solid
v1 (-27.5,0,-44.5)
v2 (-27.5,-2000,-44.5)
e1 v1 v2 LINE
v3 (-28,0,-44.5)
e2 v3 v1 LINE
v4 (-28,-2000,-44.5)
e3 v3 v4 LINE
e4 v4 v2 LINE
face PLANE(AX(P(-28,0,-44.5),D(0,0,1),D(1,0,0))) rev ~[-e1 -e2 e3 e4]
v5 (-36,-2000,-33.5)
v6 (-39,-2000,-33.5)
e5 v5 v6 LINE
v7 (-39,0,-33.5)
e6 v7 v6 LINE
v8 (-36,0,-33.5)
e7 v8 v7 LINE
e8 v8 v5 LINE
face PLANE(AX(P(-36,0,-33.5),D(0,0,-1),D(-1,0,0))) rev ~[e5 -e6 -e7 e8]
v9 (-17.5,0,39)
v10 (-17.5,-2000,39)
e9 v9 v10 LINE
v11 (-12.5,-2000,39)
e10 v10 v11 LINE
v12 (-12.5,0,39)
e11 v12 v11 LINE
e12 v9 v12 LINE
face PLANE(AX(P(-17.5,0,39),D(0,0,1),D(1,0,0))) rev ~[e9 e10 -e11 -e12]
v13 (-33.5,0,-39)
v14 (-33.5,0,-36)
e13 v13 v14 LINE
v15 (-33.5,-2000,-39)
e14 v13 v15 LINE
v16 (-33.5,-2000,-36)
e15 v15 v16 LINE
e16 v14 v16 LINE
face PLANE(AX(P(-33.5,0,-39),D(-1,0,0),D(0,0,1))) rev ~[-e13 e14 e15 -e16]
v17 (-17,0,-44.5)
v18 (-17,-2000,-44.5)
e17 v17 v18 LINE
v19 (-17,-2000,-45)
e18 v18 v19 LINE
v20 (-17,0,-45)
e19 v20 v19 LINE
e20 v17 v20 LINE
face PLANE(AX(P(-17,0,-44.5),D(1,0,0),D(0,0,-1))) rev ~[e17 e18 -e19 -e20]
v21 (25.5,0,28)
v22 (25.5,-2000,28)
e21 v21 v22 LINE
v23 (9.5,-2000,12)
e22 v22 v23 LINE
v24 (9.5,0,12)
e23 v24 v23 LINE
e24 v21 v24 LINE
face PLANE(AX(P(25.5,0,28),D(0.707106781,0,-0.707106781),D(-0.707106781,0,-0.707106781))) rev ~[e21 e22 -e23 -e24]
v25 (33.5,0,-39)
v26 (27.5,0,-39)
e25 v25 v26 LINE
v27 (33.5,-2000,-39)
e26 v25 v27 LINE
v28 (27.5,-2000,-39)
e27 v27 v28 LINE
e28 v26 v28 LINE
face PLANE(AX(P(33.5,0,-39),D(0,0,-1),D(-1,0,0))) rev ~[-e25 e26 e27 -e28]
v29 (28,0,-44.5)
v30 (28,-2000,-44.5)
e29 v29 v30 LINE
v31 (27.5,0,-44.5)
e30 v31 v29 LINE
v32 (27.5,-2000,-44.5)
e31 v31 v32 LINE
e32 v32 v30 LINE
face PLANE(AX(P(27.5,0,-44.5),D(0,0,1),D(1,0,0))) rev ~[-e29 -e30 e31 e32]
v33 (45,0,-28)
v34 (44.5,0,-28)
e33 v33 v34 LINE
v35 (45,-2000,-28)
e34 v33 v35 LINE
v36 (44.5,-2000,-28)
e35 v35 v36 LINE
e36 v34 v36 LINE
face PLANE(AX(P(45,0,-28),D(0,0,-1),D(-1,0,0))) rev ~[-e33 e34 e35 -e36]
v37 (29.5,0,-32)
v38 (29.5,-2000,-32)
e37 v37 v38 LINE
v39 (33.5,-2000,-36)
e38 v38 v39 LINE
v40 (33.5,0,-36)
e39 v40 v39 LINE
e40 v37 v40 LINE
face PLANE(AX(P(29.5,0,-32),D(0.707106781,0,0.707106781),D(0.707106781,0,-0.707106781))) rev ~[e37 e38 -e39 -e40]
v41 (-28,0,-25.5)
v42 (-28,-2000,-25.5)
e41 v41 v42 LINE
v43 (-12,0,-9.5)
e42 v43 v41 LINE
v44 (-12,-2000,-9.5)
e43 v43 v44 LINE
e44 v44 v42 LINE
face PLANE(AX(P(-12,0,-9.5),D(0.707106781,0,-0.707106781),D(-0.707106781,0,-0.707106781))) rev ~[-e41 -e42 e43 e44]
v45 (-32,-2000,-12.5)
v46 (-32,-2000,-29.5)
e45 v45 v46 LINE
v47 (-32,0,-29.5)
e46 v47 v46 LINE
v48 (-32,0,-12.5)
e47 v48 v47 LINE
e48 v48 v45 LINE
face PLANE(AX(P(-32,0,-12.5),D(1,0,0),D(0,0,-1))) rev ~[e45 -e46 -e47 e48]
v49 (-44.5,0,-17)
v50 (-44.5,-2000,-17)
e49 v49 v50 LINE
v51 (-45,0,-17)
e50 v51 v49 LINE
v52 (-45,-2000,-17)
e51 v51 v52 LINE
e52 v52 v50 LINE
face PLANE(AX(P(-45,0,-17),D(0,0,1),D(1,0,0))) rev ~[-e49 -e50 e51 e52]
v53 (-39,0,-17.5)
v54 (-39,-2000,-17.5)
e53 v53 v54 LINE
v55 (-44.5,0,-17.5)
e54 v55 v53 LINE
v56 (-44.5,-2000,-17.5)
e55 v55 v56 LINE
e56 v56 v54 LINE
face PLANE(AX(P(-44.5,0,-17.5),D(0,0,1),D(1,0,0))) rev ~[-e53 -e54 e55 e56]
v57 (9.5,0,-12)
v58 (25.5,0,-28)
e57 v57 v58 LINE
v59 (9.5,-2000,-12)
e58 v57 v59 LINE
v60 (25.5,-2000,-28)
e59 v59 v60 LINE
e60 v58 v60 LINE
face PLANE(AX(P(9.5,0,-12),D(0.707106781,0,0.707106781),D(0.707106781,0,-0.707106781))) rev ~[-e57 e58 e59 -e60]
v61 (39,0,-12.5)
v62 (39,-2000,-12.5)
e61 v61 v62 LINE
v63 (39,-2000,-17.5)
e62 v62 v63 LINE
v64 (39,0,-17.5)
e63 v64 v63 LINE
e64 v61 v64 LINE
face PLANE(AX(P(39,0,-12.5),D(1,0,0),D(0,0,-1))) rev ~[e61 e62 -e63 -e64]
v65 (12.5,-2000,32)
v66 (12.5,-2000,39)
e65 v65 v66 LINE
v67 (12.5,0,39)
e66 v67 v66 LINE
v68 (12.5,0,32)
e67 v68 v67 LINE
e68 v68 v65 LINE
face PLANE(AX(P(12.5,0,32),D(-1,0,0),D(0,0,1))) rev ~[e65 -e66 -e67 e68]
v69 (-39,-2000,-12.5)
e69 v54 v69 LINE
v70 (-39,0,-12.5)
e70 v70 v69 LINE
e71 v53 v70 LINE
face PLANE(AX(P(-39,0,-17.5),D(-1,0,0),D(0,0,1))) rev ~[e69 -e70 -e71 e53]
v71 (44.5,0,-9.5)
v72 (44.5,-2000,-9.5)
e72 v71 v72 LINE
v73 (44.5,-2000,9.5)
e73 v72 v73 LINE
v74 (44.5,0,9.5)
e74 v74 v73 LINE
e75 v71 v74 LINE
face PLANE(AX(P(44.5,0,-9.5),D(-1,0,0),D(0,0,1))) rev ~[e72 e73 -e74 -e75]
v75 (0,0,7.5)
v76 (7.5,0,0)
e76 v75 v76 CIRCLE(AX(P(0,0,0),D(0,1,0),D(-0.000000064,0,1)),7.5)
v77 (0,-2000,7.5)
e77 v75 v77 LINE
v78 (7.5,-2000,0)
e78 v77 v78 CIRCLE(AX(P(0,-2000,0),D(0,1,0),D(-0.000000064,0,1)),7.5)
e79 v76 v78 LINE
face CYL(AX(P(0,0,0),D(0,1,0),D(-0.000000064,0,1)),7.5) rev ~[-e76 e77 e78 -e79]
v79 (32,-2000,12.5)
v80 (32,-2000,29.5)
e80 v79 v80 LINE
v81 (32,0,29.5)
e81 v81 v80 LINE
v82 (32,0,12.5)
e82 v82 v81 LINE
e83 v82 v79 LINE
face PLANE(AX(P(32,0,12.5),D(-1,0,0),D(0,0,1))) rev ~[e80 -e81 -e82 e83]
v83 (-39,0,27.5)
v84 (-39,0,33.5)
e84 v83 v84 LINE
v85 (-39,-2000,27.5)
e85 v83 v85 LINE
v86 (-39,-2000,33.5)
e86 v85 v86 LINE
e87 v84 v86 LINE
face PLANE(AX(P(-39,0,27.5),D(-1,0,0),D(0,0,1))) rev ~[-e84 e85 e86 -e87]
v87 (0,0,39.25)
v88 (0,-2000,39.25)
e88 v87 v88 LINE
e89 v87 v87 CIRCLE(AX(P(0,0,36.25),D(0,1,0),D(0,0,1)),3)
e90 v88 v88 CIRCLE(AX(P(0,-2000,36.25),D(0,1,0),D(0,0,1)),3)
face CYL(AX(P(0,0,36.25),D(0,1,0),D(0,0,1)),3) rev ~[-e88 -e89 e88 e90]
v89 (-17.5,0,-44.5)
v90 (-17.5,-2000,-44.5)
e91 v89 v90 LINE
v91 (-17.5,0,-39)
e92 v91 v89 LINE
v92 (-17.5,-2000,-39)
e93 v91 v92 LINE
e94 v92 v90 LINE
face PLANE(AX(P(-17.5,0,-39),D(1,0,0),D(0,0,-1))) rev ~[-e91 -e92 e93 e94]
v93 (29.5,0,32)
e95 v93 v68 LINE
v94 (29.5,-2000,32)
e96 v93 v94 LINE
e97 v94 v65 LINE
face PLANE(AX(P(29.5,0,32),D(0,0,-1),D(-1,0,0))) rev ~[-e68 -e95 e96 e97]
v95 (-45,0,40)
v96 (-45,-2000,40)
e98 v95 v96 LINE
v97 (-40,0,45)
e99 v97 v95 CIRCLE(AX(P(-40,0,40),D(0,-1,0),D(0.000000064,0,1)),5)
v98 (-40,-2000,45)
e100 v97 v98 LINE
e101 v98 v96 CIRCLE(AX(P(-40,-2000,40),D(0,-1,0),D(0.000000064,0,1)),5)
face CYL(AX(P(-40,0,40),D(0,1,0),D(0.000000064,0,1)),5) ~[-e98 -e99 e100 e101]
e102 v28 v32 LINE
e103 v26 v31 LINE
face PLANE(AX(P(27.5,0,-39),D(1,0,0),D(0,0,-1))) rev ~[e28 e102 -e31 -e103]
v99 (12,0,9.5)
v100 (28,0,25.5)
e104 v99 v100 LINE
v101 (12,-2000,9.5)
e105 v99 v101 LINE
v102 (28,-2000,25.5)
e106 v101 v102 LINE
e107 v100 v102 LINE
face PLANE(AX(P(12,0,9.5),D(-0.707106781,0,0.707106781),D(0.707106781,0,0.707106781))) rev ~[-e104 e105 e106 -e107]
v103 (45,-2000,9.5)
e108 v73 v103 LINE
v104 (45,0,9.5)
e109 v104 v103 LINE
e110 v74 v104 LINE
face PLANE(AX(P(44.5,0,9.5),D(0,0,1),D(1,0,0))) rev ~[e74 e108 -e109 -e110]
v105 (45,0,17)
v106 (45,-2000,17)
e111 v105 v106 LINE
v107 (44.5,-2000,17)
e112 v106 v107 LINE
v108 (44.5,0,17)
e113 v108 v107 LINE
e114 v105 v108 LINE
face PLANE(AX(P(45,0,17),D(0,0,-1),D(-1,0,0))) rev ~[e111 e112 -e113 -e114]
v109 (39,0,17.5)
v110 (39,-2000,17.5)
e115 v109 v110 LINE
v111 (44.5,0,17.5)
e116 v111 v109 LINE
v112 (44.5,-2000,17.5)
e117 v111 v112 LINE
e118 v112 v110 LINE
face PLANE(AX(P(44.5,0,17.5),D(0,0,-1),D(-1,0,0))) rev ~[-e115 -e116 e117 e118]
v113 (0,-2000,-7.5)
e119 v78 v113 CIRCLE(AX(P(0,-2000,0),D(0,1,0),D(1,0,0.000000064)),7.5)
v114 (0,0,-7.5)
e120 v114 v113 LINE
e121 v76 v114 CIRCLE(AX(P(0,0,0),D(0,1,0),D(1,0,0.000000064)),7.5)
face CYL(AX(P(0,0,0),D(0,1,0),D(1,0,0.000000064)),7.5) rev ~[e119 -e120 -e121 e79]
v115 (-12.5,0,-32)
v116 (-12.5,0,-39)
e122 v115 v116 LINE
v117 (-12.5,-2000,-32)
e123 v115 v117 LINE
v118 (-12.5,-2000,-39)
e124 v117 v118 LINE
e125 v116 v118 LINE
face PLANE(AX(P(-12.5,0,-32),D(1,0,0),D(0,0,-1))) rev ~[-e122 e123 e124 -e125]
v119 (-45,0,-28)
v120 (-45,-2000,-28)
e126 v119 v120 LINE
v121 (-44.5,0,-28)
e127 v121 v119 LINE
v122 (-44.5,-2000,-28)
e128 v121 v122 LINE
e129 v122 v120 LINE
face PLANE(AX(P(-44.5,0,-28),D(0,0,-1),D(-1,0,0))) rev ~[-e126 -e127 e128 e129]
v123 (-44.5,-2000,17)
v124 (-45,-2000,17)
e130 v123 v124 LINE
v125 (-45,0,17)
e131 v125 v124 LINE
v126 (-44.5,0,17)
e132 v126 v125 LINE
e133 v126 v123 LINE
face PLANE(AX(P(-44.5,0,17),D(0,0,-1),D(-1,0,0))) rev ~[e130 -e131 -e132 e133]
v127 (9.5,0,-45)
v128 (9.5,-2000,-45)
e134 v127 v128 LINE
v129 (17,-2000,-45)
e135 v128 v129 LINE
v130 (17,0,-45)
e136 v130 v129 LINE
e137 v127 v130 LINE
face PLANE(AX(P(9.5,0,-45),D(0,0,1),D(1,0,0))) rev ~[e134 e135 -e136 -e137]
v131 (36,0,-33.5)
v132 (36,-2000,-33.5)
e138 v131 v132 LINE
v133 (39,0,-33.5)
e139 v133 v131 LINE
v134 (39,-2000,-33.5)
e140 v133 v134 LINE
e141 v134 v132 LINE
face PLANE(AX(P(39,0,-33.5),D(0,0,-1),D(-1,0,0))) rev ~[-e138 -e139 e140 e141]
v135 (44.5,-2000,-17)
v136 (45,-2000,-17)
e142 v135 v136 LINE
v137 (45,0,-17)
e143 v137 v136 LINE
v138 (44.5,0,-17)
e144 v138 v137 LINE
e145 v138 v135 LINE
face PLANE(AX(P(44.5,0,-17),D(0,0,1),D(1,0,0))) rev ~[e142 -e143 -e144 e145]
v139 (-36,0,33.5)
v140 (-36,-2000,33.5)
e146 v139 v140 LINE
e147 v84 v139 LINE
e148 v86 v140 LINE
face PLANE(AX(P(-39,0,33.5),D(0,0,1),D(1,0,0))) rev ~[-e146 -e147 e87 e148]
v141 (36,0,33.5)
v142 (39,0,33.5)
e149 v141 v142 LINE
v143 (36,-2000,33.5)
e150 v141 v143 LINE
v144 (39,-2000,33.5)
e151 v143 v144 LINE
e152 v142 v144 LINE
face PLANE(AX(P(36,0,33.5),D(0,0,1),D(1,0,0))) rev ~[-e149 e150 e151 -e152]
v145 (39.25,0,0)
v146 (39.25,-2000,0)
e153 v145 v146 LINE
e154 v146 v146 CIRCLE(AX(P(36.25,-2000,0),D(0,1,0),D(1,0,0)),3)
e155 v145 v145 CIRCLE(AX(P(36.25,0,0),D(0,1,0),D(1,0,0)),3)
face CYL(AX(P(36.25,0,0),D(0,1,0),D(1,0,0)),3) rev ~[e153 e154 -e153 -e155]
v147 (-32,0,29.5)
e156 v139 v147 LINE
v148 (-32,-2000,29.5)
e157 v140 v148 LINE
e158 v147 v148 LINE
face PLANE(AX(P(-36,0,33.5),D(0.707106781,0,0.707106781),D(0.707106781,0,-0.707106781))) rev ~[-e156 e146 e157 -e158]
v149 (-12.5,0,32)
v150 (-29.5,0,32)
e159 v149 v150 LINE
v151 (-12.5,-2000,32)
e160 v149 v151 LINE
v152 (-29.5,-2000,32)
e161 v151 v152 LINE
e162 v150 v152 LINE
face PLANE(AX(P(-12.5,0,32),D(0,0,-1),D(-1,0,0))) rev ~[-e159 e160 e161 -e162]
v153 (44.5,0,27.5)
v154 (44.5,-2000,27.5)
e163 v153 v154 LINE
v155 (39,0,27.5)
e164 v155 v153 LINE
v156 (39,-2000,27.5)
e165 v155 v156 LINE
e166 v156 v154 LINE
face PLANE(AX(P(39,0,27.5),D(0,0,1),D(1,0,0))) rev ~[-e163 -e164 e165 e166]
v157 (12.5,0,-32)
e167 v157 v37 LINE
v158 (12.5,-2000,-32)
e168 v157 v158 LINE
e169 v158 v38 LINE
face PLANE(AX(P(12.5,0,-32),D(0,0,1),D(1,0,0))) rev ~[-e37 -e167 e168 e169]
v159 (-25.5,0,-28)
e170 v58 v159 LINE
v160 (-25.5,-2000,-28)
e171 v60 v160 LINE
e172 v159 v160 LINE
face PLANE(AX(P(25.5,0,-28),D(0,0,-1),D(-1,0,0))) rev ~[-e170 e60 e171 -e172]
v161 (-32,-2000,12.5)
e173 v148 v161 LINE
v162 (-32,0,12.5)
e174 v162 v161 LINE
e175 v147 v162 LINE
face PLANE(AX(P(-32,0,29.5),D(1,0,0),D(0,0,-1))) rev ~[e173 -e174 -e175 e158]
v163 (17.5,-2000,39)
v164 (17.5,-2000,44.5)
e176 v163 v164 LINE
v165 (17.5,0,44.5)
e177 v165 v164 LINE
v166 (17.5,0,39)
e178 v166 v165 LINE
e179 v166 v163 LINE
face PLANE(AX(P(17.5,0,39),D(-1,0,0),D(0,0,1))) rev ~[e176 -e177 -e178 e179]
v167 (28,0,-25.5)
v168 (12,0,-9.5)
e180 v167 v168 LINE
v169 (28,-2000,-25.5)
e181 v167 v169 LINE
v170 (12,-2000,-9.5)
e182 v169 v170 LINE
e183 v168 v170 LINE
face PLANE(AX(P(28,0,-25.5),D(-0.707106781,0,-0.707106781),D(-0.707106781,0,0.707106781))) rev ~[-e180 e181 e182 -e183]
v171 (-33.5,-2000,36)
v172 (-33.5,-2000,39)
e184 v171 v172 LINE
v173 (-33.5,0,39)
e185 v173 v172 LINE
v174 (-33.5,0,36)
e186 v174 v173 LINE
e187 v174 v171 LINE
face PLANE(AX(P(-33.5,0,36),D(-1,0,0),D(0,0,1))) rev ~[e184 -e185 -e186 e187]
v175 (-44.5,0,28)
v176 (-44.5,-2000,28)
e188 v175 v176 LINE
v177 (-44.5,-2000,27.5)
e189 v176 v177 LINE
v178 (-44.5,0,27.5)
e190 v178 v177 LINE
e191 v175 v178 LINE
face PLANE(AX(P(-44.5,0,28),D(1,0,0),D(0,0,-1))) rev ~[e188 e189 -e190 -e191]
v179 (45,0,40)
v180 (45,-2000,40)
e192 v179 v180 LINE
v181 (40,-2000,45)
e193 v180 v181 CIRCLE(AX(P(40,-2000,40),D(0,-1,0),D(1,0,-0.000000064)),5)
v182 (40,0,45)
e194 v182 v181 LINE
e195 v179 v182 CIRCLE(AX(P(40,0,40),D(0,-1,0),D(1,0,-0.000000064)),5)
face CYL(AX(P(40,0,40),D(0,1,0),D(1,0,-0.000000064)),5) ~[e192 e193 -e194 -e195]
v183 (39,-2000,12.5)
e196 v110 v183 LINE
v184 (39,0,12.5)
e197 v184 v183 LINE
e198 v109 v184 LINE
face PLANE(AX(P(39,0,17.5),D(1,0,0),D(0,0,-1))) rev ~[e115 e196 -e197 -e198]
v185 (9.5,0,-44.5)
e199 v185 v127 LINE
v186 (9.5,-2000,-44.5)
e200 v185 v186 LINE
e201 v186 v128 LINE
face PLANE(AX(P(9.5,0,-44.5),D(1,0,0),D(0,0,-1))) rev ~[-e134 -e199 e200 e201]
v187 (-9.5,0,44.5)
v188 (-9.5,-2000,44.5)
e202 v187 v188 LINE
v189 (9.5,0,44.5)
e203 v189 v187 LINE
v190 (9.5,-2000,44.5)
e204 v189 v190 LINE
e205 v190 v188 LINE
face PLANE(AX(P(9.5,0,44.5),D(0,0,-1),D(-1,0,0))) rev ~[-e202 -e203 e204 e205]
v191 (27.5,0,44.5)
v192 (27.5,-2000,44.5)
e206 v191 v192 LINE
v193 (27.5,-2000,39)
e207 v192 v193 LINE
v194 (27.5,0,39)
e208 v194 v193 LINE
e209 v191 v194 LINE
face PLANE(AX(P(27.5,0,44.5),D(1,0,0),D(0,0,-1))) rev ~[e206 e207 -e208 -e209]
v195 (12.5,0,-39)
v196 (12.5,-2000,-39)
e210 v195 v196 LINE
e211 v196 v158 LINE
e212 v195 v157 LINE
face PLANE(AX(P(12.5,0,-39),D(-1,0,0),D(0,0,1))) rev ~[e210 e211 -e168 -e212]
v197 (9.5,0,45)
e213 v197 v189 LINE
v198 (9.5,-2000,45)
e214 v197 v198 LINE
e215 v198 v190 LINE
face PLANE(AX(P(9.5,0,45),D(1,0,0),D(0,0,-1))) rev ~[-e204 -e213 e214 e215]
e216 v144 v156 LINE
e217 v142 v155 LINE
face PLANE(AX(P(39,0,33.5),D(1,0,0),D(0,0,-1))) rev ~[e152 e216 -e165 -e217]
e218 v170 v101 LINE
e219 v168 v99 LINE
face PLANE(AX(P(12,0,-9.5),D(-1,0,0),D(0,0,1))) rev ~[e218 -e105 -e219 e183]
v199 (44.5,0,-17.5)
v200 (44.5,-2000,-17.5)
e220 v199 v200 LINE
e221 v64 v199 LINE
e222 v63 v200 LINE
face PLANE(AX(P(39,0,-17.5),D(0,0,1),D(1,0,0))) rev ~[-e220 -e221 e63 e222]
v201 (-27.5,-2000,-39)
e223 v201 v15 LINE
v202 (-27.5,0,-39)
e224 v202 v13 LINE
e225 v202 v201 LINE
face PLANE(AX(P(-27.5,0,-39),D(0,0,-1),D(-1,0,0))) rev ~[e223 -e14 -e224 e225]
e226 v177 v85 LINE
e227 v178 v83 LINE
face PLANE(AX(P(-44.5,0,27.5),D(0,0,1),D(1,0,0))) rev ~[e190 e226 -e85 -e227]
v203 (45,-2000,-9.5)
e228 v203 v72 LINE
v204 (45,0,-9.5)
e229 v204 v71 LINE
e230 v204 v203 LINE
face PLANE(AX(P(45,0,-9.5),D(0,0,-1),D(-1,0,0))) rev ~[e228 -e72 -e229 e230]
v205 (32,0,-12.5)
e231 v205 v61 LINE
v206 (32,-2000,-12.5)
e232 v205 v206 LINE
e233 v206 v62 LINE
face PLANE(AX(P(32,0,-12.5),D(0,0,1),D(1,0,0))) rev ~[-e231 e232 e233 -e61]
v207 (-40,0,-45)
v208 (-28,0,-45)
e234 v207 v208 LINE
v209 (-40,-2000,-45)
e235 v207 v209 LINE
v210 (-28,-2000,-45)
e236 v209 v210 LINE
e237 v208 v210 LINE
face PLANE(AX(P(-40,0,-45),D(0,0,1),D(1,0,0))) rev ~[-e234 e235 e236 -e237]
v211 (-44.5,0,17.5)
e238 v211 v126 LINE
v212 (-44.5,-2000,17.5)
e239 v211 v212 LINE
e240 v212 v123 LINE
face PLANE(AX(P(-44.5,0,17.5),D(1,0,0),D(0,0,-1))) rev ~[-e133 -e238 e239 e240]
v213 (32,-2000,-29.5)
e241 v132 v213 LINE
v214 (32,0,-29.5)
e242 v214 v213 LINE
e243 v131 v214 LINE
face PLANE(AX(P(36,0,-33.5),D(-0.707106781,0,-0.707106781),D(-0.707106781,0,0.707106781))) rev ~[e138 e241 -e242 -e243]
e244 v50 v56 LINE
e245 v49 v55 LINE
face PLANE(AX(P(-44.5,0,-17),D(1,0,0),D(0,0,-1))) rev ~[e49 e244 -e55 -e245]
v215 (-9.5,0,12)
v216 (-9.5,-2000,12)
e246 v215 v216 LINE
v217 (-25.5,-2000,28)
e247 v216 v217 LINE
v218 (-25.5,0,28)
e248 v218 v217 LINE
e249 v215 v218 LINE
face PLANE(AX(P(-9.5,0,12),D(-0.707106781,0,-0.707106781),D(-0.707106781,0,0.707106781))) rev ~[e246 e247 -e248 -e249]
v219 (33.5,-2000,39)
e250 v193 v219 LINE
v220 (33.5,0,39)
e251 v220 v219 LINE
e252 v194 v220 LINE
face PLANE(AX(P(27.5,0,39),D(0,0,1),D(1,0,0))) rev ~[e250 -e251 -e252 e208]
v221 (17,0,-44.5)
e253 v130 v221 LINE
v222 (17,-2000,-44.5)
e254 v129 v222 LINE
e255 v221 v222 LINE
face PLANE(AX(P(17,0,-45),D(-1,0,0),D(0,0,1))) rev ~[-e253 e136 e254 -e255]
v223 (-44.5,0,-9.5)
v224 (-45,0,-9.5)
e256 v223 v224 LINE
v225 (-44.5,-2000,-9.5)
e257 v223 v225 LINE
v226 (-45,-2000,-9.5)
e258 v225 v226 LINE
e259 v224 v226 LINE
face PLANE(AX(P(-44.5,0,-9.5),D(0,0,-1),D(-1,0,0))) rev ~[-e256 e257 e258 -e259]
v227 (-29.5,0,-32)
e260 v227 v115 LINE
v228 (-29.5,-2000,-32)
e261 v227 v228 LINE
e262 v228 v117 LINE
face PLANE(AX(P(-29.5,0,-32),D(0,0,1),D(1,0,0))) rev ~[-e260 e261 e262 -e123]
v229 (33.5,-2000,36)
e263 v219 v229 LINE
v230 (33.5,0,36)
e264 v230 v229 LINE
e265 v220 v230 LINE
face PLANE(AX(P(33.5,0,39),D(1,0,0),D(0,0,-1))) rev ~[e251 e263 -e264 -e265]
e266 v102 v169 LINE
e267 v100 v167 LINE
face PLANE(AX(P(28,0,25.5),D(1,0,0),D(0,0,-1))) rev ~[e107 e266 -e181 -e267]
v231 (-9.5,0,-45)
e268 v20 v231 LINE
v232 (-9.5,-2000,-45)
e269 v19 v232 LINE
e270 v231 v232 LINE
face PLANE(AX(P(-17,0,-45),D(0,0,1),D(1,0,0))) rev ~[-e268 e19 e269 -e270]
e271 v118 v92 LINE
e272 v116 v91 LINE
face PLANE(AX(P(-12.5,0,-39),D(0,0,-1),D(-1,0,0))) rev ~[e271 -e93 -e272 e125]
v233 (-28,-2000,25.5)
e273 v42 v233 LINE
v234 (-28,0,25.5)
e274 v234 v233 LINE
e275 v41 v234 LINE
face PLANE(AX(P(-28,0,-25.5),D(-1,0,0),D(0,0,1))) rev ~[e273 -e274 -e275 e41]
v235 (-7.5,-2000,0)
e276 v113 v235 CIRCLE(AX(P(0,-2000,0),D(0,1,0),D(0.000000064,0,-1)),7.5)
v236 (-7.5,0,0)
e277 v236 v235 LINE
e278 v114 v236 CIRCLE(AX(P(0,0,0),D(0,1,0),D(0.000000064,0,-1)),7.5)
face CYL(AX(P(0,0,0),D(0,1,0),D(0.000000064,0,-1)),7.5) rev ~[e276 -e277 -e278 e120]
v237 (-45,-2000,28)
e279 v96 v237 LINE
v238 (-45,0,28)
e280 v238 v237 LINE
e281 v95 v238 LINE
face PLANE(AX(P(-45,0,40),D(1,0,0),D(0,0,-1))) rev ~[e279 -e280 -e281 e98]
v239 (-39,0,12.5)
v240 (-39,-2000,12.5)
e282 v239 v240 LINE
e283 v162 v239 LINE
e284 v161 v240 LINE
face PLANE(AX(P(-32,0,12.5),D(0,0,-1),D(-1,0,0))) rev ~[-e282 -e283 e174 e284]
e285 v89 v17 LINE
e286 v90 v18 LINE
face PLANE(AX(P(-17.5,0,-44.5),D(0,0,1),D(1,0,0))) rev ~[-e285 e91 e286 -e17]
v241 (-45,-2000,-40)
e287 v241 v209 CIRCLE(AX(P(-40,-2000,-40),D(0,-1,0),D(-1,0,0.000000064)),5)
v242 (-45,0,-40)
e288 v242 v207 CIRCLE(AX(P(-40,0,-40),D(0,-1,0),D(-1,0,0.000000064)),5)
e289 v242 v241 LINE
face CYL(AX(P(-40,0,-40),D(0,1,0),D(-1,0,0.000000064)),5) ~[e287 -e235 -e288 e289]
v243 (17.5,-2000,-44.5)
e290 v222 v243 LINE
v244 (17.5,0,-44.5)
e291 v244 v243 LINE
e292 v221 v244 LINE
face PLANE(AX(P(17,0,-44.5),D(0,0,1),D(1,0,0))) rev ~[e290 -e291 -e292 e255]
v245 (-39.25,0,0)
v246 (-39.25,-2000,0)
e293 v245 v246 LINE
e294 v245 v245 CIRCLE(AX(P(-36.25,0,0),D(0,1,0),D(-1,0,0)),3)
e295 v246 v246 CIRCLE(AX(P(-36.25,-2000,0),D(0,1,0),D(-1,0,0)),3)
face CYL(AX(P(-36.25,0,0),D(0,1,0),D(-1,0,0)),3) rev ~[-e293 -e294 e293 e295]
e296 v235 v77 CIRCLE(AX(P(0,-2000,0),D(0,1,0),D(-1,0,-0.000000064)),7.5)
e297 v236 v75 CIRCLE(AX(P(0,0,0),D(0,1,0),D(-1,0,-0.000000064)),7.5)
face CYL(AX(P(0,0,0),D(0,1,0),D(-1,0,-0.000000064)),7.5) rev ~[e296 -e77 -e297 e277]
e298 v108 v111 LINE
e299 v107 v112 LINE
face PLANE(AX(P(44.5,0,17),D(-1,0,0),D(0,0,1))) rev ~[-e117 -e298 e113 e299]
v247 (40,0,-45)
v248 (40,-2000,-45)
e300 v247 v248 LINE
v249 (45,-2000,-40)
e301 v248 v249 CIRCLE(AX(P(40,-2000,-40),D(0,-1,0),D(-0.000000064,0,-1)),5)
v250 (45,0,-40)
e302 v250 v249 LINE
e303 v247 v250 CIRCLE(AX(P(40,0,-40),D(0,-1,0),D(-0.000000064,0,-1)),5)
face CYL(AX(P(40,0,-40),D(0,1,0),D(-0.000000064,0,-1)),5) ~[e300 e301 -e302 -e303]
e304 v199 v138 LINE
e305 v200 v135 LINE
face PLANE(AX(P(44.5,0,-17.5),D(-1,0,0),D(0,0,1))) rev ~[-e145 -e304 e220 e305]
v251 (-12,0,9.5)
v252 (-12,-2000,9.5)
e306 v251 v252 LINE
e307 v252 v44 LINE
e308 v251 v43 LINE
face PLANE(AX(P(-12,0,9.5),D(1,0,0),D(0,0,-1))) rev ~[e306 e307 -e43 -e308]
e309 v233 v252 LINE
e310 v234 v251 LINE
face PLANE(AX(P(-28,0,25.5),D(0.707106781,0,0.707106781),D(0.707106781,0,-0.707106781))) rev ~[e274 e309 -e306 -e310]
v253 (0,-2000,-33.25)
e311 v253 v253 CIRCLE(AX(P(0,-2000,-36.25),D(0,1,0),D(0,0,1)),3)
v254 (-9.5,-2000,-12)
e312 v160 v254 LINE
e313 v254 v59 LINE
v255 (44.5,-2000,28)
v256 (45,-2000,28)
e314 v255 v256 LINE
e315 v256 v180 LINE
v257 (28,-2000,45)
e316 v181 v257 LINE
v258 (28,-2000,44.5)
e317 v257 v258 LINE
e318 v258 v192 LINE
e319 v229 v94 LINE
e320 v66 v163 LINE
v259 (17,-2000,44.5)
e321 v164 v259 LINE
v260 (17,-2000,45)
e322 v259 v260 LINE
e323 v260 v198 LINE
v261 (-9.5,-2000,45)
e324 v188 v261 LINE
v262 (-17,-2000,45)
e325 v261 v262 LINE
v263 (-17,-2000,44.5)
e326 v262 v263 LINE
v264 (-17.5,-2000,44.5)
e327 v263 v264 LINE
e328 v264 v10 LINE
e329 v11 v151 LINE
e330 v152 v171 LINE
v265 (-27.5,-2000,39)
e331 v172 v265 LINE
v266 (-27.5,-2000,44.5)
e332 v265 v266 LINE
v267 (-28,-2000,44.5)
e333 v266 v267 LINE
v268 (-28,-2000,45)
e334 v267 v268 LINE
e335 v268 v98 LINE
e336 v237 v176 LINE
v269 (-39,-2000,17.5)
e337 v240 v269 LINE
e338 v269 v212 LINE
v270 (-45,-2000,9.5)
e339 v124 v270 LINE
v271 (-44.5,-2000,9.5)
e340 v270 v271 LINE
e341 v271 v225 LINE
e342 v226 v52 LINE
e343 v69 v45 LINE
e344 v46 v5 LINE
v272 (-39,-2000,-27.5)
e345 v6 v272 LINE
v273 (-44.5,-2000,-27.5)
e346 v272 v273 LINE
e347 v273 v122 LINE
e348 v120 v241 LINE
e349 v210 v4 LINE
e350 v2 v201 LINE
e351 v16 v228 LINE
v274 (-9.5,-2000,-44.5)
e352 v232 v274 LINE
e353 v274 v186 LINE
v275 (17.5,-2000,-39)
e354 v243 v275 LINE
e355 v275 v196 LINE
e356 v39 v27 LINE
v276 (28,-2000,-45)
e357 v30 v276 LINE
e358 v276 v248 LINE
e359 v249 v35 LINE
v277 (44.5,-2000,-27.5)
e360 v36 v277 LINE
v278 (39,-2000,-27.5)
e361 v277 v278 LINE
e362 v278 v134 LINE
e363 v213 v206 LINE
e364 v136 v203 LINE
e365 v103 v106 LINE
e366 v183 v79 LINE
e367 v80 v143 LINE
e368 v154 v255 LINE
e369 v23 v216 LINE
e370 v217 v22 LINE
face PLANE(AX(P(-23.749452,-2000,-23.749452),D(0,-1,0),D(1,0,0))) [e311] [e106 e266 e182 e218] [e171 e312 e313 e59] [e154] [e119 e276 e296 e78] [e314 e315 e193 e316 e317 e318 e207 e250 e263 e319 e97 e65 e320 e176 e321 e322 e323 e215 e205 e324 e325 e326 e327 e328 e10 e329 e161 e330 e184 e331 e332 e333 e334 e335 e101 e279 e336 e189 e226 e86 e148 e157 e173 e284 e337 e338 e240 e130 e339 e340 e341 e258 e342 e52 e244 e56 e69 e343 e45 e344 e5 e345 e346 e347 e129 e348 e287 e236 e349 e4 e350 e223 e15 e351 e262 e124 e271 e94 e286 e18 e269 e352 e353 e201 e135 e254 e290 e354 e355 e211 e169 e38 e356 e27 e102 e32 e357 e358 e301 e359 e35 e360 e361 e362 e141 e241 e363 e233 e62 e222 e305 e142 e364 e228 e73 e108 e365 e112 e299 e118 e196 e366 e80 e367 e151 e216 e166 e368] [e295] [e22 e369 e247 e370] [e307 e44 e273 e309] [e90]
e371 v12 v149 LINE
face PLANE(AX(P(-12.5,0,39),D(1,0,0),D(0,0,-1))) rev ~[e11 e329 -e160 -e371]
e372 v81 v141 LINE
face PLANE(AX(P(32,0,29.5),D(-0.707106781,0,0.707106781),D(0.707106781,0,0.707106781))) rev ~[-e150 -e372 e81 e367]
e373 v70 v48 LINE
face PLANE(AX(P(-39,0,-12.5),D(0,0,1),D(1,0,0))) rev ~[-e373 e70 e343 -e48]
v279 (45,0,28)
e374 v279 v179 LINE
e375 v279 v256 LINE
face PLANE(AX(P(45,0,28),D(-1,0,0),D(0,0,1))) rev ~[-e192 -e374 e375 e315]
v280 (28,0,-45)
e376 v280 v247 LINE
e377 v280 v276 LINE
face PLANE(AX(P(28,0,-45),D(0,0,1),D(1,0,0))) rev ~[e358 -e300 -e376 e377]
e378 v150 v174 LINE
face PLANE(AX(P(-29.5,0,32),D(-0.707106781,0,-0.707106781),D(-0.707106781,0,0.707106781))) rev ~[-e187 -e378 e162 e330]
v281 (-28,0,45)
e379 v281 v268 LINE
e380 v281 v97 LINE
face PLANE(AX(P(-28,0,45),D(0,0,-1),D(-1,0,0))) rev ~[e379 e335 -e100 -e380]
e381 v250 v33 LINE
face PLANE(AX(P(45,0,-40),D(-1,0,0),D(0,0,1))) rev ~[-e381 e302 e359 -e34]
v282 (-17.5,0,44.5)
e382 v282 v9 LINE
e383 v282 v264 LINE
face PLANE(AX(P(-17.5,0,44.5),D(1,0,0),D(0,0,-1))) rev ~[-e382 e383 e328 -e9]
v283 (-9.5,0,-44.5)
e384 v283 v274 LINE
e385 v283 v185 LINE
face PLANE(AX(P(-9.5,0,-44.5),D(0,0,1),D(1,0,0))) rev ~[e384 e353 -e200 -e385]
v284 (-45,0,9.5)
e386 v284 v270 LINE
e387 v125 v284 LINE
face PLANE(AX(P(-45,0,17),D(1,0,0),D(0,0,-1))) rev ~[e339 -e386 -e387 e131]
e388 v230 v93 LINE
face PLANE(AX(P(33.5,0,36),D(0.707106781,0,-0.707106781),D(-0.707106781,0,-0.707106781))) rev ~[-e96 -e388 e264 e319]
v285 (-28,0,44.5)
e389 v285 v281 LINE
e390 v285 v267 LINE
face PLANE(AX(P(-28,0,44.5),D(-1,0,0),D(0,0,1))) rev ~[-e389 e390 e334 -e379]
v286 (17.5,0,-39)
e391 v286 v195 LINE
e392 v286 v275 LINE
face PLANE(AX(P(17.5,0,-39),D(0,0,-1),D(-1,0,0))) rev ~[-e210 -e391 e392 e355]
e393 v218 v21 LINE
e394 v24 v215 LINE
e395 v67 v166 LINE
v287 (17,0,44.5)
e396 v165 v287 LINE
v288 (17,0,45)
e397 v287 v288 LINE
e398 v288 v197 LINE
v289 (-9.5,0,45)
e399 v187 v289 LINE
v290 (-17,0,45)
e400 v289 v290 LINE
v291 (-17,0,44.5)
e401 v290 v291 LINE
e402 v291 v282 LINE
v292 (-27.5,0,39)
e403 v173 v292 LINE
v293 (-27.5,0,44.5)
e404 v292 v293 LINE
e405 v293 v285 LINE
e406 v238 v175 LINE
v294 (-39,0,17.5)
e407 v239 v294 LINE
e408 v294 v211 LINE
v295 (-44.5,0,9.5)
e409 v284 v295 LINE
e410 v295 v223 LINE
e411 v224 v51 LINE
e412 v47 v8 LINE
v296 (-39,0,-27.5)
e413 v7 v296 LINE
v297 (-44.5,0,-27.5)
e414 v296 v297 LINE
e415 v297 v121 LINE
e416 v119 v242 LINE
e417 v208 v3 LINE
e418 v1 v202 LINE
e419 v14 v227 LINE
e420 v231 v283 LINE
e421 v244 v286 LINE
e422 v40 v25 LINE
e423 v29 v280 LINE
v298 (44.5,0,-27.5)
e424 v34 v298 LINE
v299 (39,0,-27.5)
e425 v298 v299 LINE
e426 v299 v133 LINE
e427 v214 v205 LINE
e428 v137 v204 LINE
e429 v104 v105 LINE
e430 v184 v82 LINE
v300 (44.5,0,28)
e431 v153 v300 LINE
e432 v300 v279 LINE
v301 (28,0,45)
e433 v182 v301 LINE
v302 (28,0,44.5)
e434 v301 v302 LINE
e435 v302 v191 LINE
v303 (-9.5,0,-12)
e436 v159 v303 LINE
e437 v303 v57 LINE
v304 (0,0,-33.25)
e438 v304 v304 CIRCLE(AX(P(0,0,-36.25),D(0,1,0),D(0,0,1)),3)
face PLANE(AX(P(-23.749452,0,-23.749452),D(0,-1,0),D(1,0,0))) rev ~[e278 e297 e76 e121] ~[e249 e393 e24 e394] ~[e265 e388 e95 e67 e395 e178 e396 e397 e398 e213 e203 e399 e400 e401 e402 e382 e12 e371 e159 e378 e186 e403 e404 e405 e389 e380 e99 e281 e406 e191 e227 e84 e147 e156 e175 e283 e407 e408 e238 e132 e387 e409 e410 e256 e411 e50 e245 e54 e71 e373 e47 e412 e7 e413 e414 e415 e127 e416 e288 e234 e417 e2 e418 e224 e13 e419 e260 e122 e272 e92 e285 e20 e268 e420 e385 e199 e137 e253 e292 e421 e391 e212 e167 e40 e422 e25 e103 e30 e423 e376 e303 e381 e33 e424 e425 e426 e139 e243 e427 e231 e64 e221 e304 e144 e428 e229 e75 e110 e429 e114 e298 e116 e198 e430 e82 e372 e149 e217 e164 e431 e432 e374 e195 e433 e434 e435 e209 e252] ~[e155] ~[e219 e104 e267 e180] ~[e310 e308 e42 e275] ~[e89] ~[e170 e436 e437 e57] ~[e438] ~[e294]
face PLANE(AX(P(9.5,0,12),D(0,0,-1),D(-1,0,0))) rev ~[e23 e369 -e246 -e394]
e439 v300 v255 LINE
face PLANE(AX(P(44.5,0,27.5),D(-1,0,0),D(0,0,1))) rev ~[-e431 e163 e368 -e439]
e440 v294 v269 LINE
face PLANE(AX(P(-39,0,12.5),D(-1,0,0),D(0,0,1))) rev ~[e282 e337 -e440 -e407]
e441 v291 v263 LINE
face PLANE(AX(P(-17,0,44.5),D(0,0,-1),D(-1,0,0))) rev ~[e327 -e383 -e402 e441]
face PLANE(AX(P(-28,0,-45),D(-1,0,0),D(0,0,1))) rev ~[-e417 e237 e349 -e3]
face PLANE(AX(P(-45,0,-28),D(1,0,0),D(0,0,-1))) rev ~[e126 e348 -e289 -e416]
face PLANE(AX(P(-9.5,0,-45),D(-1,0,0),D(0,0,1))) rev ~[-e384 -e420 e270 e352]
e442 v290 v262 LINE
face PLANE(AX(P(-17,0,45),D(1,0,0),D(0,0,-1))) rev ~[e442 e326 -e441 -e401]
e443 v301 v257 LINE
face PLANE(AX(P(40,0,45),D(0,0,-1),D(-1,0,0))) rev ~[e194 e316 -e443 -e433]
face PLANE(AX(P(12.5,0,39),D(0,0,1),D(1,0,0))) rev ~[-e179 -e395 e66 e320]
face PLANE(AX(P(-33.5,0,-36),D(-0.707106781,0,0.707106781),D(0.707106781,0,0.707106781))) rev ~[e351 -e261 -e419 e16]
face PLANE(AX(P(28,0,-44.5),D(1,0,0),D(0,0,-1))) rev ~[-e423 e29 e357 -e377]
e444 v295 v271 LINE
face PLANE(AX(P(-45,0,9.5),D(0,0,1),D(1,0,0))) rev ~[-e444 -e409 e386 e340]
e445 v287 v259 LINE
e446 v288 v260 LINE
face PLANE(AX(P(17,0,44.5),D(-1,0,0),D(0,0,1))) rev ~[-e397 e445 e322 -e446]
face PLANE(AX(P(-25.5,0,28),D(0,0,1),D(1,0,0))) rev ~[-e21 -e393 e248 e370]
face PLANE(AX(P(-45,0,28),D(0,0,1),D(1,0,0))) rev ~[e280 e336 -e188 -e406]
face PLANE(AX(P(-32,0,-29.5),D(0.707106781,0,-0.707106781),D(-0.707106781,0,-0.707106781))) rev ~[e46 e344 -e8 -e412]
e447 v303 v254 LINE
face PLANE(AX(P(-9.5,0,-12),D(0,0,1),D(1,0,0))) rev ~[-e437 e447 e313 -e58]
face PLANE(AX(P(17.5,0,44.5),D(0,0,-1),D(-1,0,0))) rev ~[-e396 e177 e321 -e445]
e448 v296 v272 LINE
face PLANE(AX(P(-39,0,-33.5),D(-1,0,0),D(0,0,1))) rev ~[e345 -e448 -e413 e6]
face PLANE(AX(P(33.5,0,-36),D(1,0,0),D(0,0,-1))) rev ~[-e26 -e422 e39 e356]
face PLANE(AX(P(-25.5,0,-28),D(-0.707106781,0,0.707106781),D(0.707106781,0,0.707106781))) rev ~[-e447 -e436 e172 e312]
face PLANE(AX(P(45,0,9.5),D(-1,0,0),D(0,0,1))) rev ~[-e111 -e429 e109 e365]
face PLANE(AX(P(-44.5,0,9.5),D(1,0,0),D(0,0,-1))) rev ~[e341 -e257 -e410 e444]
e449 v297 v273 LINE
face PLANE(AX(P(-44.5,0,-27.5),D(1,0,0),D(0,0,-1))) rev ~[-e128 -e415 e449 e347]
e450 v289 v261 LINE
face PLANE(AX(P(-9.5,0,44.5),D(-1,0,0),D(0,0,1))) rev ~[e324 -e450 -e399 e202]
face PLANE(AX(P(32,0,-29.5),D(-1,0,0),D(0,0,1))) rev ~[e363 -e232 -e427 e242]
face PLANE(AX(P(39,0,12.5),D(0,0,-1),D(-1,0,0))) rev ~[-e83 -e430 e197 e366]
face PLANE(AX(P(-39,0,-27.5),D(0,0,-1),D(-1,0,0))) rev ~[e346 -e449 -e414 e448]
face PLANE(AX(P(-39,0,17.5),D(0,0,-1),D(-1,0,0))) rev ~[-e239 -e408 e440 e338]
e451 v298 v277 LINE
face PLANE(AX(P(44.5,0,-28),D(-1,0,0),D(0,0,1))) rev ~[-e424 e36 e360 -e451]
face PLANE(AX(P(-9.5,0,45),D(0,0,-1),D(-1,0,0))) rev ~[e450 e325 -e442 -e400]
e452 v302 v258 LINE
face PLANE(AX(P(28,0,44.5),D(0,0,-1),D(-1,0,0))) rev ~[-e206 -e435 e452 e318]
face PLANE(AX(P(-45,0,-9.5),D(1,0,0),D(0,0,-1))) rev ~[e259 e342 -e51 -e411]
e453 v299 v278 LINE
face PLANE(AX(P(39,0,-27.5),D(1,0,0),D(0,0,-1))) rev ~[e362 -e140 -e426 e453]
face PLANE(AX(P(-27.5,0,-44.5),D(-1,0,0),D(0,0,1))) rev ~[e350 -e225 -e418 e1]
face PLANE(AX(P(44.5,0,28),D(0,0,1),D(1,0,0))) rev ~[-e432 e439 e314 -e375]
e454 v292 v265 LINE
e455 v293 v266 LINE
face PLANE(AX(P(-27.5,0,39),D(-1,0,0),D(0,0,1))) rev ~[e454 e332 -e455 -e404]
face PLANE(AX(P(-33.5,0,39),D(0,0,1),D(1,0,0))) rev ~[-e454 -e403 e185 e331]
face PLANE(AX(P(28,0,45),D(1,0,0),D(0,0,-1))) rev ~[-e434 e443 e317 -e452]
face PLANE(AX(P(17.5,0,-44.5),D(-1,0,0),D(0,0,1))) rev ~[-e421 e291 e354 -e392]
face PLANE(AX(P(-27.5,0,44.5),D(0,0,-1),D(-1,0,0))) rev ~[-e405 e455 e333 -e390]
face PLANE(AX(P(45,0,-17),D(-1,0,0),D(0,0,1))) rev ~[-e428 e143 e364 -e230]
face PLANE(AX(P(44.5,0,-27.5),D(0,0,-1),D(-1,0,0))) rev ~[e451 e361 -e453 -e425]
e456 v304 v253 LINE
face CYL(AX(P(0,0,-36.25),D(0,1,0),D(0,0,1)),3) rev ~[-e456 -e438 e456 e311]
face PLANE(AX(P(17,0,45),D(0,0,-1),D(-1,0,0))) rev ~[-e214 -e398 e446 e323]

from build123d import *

# Parameters (mm, degrees)
F1_DEPTH = 2000


with BuildPart() as f1:
    # F0 (on Front) → F1 (new body)
    with BuildSketch(Plane.XZ):
        with BuildLine():
            ThreePointArc((0, -7.5), (-5.303301, -5.303301), (-7.5, 0))
            Line((-7.5, 0), (-12, 0))
            Line((-12, 0), (-12, -9.5))
            Line((-12, -9.5), (-28, -25.5))
            Line((-28, -25.5), (-28, 0))
            Line((-28, 0), (-33.25, 0))
            ThreePointArc((-33.25, 0), (-36.25, -3), (-39.25, 0))
            Line((-39.25, 0), (-44.5, 0))
            Line((-44.5, 0), (-44.5, -9.5))
            Line((-44.5, -9.5), (-45, -9.5))
            Line((-45, -9.5), (-45, -17))
            Line((-45, -17), (-44.5, -17))
            Line((-44.5, -17), (-44.5, -17.5))
            Line((-44.5, -17.5), (-39, -17.5))
            Line((-39, -17.5), (-39, -12.5))
            Line((-39, -12.5), (-32, -12.5))
            Line((-32, -12.5), (-32, -29.5))
            Line((-32, -29.5), (-36, -33.5))
            Line((-36, -33.5), (-39, -33.5))
            Line((-39, -33.5), (-39, -27.5))
            Line((-39, -27.5), (-44.5, -27.5))
            Line((-44.5, -27.5), (-44.5, -28))
            Line((-44.5, -28), (-45, -28))
            Line((-45, -28), (-45, -40))
            ThreePointArc((-45, -40), (-43.535534, -43.535534), (-40, -45))
            Line((-40, -45), (-28, -45))
            Line((-28, -45), (-28, -44.5))
            Line((-28, -44.5), (-27.5, -44.5))
            Line((-27.5, -44.5), (-27.5, -39))
            Line((-27.5, -39), (-33.5, -39))
            Line((-33.5, -39), (-33.5, -36))
            Line((-33.5, -36), (-29.5, -32))
            Line((-29.5, -32), (-12.5, -32))
            Line((-12.5, -32), (-12.5, -39))
            Line((-12.5, -39), (-17.5, -39))
            Line((-17.5, -39), (-17.5, -44.5))
            Line((-17.5, -44.5), (-17, -44.5))
            Line((-17, -44.5), (-17, -45))
            Line((-17, -45), (-9.5, -45))
            Line((-9.5, -45), (-9.5, -44.5))
            Line((-9.5, -44.5), (0, -44.5))
            Line((0, -44.5), (0, -39.25))
            ThreePointArc((0, -39.25), (-3, -36.25), (0, -33.25))
            Line((0, -33.25), (0, -28))
            Line((0, -28), (-25.5, -28))
            Line((-25.5, -28), (-9.5, -12))
            Line((-9.5, -12), (0, -12))
            Line((0, -12), (0, -7.5))
        make_face()
        with BuildLine():
            Line((0, 39.25), (0, 44.5))
            Line((0, 44.5), (-9.5, 44.5))
            Line((-9.5, 44.5), (-9.5, 45))
            Line((-9.5, 45), (-17, 45))
            Line((-17, 45), (-17, 44.5))
            Line((-17, 44.5), (-17.5, 44.5))
            Line((-17.5, 44.5), (-17.5, 39))
            Line((-17.5, 39), (-12.5, 39))
            Line((-12.5, 39), (-12.5, 32))
            Line((-12.5, 32), (-29.5, 32))
            Line((-29.5, 32), (-33.5, 36))
            Line((-33.5, 36), (-33.5, 39))
            Line((-33.5, 39), (-27.5, 39))
            Line((-27.5, 39), (-27.5, 44.5))
            Line((-27.5, 44.5), (-28, 44.5))
            Line((-28, 44.5), (-28, 45))
            Line((-28, 45), (-40, 45))
            ThreePointArc((-40, 45), (-43.535534, 43.535534), (-45, 40))
            Line((-45, 40), (-45, 28))
            Line((-45, 28), (-44.5, 28))
            Line((-44.5, 28), (-44.5, 27.5))
            Line((-44.5, 27.5), (-39, 27.5))
            Line((-39, 27.5), (-39, 33.5))
            Line((-39, 33.5), (-36, 33.5))
            Line((-36, 33.5), (-32, 29.5))
            Line((-32, 29.5), (-32, 12.5))
            Line((-32, 12.5), (-39, 12.5))
            Line((-39, 12.5), (-39, 17.5))
            Line((-39, 17.5), (-44.5, 17.5))
            Line((-44.5, 17.5), (-44.5, 17))
            Line((-44.5, 17), (-45, 17))
            Line((-45, 17), (-45, 9.5))
            Line((-45, 9.5), (-44.5, 9.5))
            Line((-44.5, 9.5), (-44.5, 0))
            Line((-44.5, 0), (-39.25, 0))
            ThreePointArc((-39.25, 0), (-36.25, 3), (-33.25, 0))
            Line((-33.25, 0), (-28, 0))
            Line((-28, 0), (-28, 25.5))
            Line((-28, 25.5), (-12, 9.5))
            Line((-12, 9.5), (-12, 0))
            Line((-12, 0), (-7.5, 0))
            ThreePointArc((-7.5, 0), (-5.303301, 5.303301), (0, 7.5))
            Line((0, 7.5), (0, 12))
            Line((0, 12), (-9.5, 12))
            Line((-9.5, 12), (-25.5, 28))
            Line((-25.5, 28), (0, 28))
            Line((0, 28), (0, 33.25))
            ThreePointArc((0, 33.25), (-3, 36.25), (0, 39.25))
        make_face()
        with BuildLine():
            Line((40, 45), (28, 45))
            Line((28, 45), (28, 44.5))
            Line((28, 44.5), (27.5, 44.5))
            Line((27.5, 44.5), (27.5, 39))
            Line((27.5, 39), (33.5, 39))
            Line((33.5, 39), (33.5, 36))
            Line((33.5, 36), (29.5, 32))
            Line((29.5, 32), (12.5, 32))
            Line((12.5, 32), (12.5, 39))
            Line((12.5, 39), (17.5, 39))
            Line((17.5, 39), (17.5, 44.5))
            Line((17.5, 44.5), (17, 44.5))
            Line((17, 44.5), (17, 45))
            Line((17, 45), (9.5, 45))
            Line((9.5, 45), (9.5, 44.5))
            Line((9.5, 44.5), (0, 44.5))
            Line((0, 44.5), (0, 39.25))
            ThreePointArc((0, 39.25), (3, 36.25), (0, 33.25))
            Line((0, 33.25), (0, 28))
            Line((0, 28), (25.5, 28))
            Line((25.5, 28), (9.5, 12))
            Line((9.5, 12), (0, 12))
            Line((0, 12), (0, 7.5))
            ThreePointArc((0, 7.5), (5.303301, 5.303301), (7.5, 0))
            Line((7.5, 0), (12, 0))
            Line((12, 0), (12, 9.5))
            Line((12, 9.5), (28, 25.5))
            Line((28, 25.5), (28, 0))
            Line((28, 0), (33.25, 0))
            ThreePointArc((33.25, 0), (36.25, 3), (39.25, 0))
            Line((39.25, 0), (44.5, 0))
            Line((44.5, 0), (44.5, 9.5))
            Line((44.5, 9.5), (45, 9.5))
            Line((45, 9.5), (45, 17))
            Line((45, 17), (44.5, 17))
            Line((44.5, 17), (44.5, 17.5))
            Line((44.5, 17.5), (39, 17.5))
            Line((39, 17.5), (39, 12.5))
            Line((39, 12.5), (32, 12.5))
            Line((32, 12.5), (32, 29.5))
            Line((32, 29.5), (36, 33.5))
            Line((36, 33.5), (39, 33.5))
            Line((39, 33.5), (39, 27.5))
            Line((39, 27.5), (44.5, 27.5))
            Line((44.5, 27.5), (44.5, 28))
            Line((44.5, 28), (45, 28))
            Line((45, 28), (45, 40))
            ThreePointArc((45, 40), (43.535534, 43.535534), (40, 45))
        make_face()
        with BuildLine():
            Line((44.5, -9.5), (44.5, 0))
            Line((44.5, 0), (39.25, 0))
            ThreePointArc((39.25, 0), (36.25, -3), (33.25, 0))
            Line((33.25, 0), (28, 0))
            Line((28, 0), (28, -25.5))
            Line((28, -25.5), (12, -9.5))
            Line((12, -9.5), (12, 0))
            Line((12, 0), (7.5, 0))
            ThreePointArc((7.5, 0), (5.303301, -5.303301), (0, -7.5))
            Line((0, -7.5), (0, -12))
            Line((0, -12), (9.5, -12))
            Line((9.5, -12), (25.5, -28))
            Line((25.5, -28), (0, -28))
            Line((0, -28), (0, -33.25))
            ThreePointArc((0, -33.25), (3, -36.25), (0, -39.25))
            Line((0, -39.25), (0, -44.5))
            Line((0, -44.5), (9.5, -44.5))
            Line((9.5, -44.5), (9.5, -45))
            Line((9.5, -45), (17, -45))
            Line((17, -45), (17, -44.5))
            Line((17, -44.5), (17.5, -44.5))
            Line((17.5, -44.5), (17.5, -39))
            Line((17.5, -39), (12.5, -39))
            Line((12.5, -39), (12.5, -32))
            Line((12.5, -32), (29.5, -32))
            Line((29.5, -32), (33.5, -36))
            Line((33.5, -36), (33.5, -39))
            Line((33.5, -39), (27.5, -39))
            Line((27.5, -39), (27.5, -44.5))
            Line((27.5, -44.5), (28, -44.5))
            Line((28, -44.5), (28, -45))
            Line((28, -45), (40, -45))
            ThreePointArc((40, -45), (43.535534, -43.535534), (45, -40))
            Line((45, -40), (45, -28))
            Line((45, -28), (44.5, -28))
            Line((44.5, -28), (44.5, -27.5))
            Line((44.5, -27.5), (39, -27.5))
            Line((39, -27.5), (39, -33.5))
            Line((39, -33.5), (36, -33.5))
            Line((36, -33.5), (32, -29.5))
            Line((32, -29.5), (32, -12.5))
            Line((32, -12.5), (39, -12.5))
            Line((39, -12.5), (39, -17.5))
            Line((39, -17.5), (44.5, -17.5))
            Line((44.5, -17.5), (44.5, -17))
            Line((44.5, -17), (45, -17))
            Line((45, -17), (45, -9.5))
            Line((45, -9.5), (44.5, -9.5))
        make_face()
    extrude(amount=F1_DEPTH)


solid = f1.part
